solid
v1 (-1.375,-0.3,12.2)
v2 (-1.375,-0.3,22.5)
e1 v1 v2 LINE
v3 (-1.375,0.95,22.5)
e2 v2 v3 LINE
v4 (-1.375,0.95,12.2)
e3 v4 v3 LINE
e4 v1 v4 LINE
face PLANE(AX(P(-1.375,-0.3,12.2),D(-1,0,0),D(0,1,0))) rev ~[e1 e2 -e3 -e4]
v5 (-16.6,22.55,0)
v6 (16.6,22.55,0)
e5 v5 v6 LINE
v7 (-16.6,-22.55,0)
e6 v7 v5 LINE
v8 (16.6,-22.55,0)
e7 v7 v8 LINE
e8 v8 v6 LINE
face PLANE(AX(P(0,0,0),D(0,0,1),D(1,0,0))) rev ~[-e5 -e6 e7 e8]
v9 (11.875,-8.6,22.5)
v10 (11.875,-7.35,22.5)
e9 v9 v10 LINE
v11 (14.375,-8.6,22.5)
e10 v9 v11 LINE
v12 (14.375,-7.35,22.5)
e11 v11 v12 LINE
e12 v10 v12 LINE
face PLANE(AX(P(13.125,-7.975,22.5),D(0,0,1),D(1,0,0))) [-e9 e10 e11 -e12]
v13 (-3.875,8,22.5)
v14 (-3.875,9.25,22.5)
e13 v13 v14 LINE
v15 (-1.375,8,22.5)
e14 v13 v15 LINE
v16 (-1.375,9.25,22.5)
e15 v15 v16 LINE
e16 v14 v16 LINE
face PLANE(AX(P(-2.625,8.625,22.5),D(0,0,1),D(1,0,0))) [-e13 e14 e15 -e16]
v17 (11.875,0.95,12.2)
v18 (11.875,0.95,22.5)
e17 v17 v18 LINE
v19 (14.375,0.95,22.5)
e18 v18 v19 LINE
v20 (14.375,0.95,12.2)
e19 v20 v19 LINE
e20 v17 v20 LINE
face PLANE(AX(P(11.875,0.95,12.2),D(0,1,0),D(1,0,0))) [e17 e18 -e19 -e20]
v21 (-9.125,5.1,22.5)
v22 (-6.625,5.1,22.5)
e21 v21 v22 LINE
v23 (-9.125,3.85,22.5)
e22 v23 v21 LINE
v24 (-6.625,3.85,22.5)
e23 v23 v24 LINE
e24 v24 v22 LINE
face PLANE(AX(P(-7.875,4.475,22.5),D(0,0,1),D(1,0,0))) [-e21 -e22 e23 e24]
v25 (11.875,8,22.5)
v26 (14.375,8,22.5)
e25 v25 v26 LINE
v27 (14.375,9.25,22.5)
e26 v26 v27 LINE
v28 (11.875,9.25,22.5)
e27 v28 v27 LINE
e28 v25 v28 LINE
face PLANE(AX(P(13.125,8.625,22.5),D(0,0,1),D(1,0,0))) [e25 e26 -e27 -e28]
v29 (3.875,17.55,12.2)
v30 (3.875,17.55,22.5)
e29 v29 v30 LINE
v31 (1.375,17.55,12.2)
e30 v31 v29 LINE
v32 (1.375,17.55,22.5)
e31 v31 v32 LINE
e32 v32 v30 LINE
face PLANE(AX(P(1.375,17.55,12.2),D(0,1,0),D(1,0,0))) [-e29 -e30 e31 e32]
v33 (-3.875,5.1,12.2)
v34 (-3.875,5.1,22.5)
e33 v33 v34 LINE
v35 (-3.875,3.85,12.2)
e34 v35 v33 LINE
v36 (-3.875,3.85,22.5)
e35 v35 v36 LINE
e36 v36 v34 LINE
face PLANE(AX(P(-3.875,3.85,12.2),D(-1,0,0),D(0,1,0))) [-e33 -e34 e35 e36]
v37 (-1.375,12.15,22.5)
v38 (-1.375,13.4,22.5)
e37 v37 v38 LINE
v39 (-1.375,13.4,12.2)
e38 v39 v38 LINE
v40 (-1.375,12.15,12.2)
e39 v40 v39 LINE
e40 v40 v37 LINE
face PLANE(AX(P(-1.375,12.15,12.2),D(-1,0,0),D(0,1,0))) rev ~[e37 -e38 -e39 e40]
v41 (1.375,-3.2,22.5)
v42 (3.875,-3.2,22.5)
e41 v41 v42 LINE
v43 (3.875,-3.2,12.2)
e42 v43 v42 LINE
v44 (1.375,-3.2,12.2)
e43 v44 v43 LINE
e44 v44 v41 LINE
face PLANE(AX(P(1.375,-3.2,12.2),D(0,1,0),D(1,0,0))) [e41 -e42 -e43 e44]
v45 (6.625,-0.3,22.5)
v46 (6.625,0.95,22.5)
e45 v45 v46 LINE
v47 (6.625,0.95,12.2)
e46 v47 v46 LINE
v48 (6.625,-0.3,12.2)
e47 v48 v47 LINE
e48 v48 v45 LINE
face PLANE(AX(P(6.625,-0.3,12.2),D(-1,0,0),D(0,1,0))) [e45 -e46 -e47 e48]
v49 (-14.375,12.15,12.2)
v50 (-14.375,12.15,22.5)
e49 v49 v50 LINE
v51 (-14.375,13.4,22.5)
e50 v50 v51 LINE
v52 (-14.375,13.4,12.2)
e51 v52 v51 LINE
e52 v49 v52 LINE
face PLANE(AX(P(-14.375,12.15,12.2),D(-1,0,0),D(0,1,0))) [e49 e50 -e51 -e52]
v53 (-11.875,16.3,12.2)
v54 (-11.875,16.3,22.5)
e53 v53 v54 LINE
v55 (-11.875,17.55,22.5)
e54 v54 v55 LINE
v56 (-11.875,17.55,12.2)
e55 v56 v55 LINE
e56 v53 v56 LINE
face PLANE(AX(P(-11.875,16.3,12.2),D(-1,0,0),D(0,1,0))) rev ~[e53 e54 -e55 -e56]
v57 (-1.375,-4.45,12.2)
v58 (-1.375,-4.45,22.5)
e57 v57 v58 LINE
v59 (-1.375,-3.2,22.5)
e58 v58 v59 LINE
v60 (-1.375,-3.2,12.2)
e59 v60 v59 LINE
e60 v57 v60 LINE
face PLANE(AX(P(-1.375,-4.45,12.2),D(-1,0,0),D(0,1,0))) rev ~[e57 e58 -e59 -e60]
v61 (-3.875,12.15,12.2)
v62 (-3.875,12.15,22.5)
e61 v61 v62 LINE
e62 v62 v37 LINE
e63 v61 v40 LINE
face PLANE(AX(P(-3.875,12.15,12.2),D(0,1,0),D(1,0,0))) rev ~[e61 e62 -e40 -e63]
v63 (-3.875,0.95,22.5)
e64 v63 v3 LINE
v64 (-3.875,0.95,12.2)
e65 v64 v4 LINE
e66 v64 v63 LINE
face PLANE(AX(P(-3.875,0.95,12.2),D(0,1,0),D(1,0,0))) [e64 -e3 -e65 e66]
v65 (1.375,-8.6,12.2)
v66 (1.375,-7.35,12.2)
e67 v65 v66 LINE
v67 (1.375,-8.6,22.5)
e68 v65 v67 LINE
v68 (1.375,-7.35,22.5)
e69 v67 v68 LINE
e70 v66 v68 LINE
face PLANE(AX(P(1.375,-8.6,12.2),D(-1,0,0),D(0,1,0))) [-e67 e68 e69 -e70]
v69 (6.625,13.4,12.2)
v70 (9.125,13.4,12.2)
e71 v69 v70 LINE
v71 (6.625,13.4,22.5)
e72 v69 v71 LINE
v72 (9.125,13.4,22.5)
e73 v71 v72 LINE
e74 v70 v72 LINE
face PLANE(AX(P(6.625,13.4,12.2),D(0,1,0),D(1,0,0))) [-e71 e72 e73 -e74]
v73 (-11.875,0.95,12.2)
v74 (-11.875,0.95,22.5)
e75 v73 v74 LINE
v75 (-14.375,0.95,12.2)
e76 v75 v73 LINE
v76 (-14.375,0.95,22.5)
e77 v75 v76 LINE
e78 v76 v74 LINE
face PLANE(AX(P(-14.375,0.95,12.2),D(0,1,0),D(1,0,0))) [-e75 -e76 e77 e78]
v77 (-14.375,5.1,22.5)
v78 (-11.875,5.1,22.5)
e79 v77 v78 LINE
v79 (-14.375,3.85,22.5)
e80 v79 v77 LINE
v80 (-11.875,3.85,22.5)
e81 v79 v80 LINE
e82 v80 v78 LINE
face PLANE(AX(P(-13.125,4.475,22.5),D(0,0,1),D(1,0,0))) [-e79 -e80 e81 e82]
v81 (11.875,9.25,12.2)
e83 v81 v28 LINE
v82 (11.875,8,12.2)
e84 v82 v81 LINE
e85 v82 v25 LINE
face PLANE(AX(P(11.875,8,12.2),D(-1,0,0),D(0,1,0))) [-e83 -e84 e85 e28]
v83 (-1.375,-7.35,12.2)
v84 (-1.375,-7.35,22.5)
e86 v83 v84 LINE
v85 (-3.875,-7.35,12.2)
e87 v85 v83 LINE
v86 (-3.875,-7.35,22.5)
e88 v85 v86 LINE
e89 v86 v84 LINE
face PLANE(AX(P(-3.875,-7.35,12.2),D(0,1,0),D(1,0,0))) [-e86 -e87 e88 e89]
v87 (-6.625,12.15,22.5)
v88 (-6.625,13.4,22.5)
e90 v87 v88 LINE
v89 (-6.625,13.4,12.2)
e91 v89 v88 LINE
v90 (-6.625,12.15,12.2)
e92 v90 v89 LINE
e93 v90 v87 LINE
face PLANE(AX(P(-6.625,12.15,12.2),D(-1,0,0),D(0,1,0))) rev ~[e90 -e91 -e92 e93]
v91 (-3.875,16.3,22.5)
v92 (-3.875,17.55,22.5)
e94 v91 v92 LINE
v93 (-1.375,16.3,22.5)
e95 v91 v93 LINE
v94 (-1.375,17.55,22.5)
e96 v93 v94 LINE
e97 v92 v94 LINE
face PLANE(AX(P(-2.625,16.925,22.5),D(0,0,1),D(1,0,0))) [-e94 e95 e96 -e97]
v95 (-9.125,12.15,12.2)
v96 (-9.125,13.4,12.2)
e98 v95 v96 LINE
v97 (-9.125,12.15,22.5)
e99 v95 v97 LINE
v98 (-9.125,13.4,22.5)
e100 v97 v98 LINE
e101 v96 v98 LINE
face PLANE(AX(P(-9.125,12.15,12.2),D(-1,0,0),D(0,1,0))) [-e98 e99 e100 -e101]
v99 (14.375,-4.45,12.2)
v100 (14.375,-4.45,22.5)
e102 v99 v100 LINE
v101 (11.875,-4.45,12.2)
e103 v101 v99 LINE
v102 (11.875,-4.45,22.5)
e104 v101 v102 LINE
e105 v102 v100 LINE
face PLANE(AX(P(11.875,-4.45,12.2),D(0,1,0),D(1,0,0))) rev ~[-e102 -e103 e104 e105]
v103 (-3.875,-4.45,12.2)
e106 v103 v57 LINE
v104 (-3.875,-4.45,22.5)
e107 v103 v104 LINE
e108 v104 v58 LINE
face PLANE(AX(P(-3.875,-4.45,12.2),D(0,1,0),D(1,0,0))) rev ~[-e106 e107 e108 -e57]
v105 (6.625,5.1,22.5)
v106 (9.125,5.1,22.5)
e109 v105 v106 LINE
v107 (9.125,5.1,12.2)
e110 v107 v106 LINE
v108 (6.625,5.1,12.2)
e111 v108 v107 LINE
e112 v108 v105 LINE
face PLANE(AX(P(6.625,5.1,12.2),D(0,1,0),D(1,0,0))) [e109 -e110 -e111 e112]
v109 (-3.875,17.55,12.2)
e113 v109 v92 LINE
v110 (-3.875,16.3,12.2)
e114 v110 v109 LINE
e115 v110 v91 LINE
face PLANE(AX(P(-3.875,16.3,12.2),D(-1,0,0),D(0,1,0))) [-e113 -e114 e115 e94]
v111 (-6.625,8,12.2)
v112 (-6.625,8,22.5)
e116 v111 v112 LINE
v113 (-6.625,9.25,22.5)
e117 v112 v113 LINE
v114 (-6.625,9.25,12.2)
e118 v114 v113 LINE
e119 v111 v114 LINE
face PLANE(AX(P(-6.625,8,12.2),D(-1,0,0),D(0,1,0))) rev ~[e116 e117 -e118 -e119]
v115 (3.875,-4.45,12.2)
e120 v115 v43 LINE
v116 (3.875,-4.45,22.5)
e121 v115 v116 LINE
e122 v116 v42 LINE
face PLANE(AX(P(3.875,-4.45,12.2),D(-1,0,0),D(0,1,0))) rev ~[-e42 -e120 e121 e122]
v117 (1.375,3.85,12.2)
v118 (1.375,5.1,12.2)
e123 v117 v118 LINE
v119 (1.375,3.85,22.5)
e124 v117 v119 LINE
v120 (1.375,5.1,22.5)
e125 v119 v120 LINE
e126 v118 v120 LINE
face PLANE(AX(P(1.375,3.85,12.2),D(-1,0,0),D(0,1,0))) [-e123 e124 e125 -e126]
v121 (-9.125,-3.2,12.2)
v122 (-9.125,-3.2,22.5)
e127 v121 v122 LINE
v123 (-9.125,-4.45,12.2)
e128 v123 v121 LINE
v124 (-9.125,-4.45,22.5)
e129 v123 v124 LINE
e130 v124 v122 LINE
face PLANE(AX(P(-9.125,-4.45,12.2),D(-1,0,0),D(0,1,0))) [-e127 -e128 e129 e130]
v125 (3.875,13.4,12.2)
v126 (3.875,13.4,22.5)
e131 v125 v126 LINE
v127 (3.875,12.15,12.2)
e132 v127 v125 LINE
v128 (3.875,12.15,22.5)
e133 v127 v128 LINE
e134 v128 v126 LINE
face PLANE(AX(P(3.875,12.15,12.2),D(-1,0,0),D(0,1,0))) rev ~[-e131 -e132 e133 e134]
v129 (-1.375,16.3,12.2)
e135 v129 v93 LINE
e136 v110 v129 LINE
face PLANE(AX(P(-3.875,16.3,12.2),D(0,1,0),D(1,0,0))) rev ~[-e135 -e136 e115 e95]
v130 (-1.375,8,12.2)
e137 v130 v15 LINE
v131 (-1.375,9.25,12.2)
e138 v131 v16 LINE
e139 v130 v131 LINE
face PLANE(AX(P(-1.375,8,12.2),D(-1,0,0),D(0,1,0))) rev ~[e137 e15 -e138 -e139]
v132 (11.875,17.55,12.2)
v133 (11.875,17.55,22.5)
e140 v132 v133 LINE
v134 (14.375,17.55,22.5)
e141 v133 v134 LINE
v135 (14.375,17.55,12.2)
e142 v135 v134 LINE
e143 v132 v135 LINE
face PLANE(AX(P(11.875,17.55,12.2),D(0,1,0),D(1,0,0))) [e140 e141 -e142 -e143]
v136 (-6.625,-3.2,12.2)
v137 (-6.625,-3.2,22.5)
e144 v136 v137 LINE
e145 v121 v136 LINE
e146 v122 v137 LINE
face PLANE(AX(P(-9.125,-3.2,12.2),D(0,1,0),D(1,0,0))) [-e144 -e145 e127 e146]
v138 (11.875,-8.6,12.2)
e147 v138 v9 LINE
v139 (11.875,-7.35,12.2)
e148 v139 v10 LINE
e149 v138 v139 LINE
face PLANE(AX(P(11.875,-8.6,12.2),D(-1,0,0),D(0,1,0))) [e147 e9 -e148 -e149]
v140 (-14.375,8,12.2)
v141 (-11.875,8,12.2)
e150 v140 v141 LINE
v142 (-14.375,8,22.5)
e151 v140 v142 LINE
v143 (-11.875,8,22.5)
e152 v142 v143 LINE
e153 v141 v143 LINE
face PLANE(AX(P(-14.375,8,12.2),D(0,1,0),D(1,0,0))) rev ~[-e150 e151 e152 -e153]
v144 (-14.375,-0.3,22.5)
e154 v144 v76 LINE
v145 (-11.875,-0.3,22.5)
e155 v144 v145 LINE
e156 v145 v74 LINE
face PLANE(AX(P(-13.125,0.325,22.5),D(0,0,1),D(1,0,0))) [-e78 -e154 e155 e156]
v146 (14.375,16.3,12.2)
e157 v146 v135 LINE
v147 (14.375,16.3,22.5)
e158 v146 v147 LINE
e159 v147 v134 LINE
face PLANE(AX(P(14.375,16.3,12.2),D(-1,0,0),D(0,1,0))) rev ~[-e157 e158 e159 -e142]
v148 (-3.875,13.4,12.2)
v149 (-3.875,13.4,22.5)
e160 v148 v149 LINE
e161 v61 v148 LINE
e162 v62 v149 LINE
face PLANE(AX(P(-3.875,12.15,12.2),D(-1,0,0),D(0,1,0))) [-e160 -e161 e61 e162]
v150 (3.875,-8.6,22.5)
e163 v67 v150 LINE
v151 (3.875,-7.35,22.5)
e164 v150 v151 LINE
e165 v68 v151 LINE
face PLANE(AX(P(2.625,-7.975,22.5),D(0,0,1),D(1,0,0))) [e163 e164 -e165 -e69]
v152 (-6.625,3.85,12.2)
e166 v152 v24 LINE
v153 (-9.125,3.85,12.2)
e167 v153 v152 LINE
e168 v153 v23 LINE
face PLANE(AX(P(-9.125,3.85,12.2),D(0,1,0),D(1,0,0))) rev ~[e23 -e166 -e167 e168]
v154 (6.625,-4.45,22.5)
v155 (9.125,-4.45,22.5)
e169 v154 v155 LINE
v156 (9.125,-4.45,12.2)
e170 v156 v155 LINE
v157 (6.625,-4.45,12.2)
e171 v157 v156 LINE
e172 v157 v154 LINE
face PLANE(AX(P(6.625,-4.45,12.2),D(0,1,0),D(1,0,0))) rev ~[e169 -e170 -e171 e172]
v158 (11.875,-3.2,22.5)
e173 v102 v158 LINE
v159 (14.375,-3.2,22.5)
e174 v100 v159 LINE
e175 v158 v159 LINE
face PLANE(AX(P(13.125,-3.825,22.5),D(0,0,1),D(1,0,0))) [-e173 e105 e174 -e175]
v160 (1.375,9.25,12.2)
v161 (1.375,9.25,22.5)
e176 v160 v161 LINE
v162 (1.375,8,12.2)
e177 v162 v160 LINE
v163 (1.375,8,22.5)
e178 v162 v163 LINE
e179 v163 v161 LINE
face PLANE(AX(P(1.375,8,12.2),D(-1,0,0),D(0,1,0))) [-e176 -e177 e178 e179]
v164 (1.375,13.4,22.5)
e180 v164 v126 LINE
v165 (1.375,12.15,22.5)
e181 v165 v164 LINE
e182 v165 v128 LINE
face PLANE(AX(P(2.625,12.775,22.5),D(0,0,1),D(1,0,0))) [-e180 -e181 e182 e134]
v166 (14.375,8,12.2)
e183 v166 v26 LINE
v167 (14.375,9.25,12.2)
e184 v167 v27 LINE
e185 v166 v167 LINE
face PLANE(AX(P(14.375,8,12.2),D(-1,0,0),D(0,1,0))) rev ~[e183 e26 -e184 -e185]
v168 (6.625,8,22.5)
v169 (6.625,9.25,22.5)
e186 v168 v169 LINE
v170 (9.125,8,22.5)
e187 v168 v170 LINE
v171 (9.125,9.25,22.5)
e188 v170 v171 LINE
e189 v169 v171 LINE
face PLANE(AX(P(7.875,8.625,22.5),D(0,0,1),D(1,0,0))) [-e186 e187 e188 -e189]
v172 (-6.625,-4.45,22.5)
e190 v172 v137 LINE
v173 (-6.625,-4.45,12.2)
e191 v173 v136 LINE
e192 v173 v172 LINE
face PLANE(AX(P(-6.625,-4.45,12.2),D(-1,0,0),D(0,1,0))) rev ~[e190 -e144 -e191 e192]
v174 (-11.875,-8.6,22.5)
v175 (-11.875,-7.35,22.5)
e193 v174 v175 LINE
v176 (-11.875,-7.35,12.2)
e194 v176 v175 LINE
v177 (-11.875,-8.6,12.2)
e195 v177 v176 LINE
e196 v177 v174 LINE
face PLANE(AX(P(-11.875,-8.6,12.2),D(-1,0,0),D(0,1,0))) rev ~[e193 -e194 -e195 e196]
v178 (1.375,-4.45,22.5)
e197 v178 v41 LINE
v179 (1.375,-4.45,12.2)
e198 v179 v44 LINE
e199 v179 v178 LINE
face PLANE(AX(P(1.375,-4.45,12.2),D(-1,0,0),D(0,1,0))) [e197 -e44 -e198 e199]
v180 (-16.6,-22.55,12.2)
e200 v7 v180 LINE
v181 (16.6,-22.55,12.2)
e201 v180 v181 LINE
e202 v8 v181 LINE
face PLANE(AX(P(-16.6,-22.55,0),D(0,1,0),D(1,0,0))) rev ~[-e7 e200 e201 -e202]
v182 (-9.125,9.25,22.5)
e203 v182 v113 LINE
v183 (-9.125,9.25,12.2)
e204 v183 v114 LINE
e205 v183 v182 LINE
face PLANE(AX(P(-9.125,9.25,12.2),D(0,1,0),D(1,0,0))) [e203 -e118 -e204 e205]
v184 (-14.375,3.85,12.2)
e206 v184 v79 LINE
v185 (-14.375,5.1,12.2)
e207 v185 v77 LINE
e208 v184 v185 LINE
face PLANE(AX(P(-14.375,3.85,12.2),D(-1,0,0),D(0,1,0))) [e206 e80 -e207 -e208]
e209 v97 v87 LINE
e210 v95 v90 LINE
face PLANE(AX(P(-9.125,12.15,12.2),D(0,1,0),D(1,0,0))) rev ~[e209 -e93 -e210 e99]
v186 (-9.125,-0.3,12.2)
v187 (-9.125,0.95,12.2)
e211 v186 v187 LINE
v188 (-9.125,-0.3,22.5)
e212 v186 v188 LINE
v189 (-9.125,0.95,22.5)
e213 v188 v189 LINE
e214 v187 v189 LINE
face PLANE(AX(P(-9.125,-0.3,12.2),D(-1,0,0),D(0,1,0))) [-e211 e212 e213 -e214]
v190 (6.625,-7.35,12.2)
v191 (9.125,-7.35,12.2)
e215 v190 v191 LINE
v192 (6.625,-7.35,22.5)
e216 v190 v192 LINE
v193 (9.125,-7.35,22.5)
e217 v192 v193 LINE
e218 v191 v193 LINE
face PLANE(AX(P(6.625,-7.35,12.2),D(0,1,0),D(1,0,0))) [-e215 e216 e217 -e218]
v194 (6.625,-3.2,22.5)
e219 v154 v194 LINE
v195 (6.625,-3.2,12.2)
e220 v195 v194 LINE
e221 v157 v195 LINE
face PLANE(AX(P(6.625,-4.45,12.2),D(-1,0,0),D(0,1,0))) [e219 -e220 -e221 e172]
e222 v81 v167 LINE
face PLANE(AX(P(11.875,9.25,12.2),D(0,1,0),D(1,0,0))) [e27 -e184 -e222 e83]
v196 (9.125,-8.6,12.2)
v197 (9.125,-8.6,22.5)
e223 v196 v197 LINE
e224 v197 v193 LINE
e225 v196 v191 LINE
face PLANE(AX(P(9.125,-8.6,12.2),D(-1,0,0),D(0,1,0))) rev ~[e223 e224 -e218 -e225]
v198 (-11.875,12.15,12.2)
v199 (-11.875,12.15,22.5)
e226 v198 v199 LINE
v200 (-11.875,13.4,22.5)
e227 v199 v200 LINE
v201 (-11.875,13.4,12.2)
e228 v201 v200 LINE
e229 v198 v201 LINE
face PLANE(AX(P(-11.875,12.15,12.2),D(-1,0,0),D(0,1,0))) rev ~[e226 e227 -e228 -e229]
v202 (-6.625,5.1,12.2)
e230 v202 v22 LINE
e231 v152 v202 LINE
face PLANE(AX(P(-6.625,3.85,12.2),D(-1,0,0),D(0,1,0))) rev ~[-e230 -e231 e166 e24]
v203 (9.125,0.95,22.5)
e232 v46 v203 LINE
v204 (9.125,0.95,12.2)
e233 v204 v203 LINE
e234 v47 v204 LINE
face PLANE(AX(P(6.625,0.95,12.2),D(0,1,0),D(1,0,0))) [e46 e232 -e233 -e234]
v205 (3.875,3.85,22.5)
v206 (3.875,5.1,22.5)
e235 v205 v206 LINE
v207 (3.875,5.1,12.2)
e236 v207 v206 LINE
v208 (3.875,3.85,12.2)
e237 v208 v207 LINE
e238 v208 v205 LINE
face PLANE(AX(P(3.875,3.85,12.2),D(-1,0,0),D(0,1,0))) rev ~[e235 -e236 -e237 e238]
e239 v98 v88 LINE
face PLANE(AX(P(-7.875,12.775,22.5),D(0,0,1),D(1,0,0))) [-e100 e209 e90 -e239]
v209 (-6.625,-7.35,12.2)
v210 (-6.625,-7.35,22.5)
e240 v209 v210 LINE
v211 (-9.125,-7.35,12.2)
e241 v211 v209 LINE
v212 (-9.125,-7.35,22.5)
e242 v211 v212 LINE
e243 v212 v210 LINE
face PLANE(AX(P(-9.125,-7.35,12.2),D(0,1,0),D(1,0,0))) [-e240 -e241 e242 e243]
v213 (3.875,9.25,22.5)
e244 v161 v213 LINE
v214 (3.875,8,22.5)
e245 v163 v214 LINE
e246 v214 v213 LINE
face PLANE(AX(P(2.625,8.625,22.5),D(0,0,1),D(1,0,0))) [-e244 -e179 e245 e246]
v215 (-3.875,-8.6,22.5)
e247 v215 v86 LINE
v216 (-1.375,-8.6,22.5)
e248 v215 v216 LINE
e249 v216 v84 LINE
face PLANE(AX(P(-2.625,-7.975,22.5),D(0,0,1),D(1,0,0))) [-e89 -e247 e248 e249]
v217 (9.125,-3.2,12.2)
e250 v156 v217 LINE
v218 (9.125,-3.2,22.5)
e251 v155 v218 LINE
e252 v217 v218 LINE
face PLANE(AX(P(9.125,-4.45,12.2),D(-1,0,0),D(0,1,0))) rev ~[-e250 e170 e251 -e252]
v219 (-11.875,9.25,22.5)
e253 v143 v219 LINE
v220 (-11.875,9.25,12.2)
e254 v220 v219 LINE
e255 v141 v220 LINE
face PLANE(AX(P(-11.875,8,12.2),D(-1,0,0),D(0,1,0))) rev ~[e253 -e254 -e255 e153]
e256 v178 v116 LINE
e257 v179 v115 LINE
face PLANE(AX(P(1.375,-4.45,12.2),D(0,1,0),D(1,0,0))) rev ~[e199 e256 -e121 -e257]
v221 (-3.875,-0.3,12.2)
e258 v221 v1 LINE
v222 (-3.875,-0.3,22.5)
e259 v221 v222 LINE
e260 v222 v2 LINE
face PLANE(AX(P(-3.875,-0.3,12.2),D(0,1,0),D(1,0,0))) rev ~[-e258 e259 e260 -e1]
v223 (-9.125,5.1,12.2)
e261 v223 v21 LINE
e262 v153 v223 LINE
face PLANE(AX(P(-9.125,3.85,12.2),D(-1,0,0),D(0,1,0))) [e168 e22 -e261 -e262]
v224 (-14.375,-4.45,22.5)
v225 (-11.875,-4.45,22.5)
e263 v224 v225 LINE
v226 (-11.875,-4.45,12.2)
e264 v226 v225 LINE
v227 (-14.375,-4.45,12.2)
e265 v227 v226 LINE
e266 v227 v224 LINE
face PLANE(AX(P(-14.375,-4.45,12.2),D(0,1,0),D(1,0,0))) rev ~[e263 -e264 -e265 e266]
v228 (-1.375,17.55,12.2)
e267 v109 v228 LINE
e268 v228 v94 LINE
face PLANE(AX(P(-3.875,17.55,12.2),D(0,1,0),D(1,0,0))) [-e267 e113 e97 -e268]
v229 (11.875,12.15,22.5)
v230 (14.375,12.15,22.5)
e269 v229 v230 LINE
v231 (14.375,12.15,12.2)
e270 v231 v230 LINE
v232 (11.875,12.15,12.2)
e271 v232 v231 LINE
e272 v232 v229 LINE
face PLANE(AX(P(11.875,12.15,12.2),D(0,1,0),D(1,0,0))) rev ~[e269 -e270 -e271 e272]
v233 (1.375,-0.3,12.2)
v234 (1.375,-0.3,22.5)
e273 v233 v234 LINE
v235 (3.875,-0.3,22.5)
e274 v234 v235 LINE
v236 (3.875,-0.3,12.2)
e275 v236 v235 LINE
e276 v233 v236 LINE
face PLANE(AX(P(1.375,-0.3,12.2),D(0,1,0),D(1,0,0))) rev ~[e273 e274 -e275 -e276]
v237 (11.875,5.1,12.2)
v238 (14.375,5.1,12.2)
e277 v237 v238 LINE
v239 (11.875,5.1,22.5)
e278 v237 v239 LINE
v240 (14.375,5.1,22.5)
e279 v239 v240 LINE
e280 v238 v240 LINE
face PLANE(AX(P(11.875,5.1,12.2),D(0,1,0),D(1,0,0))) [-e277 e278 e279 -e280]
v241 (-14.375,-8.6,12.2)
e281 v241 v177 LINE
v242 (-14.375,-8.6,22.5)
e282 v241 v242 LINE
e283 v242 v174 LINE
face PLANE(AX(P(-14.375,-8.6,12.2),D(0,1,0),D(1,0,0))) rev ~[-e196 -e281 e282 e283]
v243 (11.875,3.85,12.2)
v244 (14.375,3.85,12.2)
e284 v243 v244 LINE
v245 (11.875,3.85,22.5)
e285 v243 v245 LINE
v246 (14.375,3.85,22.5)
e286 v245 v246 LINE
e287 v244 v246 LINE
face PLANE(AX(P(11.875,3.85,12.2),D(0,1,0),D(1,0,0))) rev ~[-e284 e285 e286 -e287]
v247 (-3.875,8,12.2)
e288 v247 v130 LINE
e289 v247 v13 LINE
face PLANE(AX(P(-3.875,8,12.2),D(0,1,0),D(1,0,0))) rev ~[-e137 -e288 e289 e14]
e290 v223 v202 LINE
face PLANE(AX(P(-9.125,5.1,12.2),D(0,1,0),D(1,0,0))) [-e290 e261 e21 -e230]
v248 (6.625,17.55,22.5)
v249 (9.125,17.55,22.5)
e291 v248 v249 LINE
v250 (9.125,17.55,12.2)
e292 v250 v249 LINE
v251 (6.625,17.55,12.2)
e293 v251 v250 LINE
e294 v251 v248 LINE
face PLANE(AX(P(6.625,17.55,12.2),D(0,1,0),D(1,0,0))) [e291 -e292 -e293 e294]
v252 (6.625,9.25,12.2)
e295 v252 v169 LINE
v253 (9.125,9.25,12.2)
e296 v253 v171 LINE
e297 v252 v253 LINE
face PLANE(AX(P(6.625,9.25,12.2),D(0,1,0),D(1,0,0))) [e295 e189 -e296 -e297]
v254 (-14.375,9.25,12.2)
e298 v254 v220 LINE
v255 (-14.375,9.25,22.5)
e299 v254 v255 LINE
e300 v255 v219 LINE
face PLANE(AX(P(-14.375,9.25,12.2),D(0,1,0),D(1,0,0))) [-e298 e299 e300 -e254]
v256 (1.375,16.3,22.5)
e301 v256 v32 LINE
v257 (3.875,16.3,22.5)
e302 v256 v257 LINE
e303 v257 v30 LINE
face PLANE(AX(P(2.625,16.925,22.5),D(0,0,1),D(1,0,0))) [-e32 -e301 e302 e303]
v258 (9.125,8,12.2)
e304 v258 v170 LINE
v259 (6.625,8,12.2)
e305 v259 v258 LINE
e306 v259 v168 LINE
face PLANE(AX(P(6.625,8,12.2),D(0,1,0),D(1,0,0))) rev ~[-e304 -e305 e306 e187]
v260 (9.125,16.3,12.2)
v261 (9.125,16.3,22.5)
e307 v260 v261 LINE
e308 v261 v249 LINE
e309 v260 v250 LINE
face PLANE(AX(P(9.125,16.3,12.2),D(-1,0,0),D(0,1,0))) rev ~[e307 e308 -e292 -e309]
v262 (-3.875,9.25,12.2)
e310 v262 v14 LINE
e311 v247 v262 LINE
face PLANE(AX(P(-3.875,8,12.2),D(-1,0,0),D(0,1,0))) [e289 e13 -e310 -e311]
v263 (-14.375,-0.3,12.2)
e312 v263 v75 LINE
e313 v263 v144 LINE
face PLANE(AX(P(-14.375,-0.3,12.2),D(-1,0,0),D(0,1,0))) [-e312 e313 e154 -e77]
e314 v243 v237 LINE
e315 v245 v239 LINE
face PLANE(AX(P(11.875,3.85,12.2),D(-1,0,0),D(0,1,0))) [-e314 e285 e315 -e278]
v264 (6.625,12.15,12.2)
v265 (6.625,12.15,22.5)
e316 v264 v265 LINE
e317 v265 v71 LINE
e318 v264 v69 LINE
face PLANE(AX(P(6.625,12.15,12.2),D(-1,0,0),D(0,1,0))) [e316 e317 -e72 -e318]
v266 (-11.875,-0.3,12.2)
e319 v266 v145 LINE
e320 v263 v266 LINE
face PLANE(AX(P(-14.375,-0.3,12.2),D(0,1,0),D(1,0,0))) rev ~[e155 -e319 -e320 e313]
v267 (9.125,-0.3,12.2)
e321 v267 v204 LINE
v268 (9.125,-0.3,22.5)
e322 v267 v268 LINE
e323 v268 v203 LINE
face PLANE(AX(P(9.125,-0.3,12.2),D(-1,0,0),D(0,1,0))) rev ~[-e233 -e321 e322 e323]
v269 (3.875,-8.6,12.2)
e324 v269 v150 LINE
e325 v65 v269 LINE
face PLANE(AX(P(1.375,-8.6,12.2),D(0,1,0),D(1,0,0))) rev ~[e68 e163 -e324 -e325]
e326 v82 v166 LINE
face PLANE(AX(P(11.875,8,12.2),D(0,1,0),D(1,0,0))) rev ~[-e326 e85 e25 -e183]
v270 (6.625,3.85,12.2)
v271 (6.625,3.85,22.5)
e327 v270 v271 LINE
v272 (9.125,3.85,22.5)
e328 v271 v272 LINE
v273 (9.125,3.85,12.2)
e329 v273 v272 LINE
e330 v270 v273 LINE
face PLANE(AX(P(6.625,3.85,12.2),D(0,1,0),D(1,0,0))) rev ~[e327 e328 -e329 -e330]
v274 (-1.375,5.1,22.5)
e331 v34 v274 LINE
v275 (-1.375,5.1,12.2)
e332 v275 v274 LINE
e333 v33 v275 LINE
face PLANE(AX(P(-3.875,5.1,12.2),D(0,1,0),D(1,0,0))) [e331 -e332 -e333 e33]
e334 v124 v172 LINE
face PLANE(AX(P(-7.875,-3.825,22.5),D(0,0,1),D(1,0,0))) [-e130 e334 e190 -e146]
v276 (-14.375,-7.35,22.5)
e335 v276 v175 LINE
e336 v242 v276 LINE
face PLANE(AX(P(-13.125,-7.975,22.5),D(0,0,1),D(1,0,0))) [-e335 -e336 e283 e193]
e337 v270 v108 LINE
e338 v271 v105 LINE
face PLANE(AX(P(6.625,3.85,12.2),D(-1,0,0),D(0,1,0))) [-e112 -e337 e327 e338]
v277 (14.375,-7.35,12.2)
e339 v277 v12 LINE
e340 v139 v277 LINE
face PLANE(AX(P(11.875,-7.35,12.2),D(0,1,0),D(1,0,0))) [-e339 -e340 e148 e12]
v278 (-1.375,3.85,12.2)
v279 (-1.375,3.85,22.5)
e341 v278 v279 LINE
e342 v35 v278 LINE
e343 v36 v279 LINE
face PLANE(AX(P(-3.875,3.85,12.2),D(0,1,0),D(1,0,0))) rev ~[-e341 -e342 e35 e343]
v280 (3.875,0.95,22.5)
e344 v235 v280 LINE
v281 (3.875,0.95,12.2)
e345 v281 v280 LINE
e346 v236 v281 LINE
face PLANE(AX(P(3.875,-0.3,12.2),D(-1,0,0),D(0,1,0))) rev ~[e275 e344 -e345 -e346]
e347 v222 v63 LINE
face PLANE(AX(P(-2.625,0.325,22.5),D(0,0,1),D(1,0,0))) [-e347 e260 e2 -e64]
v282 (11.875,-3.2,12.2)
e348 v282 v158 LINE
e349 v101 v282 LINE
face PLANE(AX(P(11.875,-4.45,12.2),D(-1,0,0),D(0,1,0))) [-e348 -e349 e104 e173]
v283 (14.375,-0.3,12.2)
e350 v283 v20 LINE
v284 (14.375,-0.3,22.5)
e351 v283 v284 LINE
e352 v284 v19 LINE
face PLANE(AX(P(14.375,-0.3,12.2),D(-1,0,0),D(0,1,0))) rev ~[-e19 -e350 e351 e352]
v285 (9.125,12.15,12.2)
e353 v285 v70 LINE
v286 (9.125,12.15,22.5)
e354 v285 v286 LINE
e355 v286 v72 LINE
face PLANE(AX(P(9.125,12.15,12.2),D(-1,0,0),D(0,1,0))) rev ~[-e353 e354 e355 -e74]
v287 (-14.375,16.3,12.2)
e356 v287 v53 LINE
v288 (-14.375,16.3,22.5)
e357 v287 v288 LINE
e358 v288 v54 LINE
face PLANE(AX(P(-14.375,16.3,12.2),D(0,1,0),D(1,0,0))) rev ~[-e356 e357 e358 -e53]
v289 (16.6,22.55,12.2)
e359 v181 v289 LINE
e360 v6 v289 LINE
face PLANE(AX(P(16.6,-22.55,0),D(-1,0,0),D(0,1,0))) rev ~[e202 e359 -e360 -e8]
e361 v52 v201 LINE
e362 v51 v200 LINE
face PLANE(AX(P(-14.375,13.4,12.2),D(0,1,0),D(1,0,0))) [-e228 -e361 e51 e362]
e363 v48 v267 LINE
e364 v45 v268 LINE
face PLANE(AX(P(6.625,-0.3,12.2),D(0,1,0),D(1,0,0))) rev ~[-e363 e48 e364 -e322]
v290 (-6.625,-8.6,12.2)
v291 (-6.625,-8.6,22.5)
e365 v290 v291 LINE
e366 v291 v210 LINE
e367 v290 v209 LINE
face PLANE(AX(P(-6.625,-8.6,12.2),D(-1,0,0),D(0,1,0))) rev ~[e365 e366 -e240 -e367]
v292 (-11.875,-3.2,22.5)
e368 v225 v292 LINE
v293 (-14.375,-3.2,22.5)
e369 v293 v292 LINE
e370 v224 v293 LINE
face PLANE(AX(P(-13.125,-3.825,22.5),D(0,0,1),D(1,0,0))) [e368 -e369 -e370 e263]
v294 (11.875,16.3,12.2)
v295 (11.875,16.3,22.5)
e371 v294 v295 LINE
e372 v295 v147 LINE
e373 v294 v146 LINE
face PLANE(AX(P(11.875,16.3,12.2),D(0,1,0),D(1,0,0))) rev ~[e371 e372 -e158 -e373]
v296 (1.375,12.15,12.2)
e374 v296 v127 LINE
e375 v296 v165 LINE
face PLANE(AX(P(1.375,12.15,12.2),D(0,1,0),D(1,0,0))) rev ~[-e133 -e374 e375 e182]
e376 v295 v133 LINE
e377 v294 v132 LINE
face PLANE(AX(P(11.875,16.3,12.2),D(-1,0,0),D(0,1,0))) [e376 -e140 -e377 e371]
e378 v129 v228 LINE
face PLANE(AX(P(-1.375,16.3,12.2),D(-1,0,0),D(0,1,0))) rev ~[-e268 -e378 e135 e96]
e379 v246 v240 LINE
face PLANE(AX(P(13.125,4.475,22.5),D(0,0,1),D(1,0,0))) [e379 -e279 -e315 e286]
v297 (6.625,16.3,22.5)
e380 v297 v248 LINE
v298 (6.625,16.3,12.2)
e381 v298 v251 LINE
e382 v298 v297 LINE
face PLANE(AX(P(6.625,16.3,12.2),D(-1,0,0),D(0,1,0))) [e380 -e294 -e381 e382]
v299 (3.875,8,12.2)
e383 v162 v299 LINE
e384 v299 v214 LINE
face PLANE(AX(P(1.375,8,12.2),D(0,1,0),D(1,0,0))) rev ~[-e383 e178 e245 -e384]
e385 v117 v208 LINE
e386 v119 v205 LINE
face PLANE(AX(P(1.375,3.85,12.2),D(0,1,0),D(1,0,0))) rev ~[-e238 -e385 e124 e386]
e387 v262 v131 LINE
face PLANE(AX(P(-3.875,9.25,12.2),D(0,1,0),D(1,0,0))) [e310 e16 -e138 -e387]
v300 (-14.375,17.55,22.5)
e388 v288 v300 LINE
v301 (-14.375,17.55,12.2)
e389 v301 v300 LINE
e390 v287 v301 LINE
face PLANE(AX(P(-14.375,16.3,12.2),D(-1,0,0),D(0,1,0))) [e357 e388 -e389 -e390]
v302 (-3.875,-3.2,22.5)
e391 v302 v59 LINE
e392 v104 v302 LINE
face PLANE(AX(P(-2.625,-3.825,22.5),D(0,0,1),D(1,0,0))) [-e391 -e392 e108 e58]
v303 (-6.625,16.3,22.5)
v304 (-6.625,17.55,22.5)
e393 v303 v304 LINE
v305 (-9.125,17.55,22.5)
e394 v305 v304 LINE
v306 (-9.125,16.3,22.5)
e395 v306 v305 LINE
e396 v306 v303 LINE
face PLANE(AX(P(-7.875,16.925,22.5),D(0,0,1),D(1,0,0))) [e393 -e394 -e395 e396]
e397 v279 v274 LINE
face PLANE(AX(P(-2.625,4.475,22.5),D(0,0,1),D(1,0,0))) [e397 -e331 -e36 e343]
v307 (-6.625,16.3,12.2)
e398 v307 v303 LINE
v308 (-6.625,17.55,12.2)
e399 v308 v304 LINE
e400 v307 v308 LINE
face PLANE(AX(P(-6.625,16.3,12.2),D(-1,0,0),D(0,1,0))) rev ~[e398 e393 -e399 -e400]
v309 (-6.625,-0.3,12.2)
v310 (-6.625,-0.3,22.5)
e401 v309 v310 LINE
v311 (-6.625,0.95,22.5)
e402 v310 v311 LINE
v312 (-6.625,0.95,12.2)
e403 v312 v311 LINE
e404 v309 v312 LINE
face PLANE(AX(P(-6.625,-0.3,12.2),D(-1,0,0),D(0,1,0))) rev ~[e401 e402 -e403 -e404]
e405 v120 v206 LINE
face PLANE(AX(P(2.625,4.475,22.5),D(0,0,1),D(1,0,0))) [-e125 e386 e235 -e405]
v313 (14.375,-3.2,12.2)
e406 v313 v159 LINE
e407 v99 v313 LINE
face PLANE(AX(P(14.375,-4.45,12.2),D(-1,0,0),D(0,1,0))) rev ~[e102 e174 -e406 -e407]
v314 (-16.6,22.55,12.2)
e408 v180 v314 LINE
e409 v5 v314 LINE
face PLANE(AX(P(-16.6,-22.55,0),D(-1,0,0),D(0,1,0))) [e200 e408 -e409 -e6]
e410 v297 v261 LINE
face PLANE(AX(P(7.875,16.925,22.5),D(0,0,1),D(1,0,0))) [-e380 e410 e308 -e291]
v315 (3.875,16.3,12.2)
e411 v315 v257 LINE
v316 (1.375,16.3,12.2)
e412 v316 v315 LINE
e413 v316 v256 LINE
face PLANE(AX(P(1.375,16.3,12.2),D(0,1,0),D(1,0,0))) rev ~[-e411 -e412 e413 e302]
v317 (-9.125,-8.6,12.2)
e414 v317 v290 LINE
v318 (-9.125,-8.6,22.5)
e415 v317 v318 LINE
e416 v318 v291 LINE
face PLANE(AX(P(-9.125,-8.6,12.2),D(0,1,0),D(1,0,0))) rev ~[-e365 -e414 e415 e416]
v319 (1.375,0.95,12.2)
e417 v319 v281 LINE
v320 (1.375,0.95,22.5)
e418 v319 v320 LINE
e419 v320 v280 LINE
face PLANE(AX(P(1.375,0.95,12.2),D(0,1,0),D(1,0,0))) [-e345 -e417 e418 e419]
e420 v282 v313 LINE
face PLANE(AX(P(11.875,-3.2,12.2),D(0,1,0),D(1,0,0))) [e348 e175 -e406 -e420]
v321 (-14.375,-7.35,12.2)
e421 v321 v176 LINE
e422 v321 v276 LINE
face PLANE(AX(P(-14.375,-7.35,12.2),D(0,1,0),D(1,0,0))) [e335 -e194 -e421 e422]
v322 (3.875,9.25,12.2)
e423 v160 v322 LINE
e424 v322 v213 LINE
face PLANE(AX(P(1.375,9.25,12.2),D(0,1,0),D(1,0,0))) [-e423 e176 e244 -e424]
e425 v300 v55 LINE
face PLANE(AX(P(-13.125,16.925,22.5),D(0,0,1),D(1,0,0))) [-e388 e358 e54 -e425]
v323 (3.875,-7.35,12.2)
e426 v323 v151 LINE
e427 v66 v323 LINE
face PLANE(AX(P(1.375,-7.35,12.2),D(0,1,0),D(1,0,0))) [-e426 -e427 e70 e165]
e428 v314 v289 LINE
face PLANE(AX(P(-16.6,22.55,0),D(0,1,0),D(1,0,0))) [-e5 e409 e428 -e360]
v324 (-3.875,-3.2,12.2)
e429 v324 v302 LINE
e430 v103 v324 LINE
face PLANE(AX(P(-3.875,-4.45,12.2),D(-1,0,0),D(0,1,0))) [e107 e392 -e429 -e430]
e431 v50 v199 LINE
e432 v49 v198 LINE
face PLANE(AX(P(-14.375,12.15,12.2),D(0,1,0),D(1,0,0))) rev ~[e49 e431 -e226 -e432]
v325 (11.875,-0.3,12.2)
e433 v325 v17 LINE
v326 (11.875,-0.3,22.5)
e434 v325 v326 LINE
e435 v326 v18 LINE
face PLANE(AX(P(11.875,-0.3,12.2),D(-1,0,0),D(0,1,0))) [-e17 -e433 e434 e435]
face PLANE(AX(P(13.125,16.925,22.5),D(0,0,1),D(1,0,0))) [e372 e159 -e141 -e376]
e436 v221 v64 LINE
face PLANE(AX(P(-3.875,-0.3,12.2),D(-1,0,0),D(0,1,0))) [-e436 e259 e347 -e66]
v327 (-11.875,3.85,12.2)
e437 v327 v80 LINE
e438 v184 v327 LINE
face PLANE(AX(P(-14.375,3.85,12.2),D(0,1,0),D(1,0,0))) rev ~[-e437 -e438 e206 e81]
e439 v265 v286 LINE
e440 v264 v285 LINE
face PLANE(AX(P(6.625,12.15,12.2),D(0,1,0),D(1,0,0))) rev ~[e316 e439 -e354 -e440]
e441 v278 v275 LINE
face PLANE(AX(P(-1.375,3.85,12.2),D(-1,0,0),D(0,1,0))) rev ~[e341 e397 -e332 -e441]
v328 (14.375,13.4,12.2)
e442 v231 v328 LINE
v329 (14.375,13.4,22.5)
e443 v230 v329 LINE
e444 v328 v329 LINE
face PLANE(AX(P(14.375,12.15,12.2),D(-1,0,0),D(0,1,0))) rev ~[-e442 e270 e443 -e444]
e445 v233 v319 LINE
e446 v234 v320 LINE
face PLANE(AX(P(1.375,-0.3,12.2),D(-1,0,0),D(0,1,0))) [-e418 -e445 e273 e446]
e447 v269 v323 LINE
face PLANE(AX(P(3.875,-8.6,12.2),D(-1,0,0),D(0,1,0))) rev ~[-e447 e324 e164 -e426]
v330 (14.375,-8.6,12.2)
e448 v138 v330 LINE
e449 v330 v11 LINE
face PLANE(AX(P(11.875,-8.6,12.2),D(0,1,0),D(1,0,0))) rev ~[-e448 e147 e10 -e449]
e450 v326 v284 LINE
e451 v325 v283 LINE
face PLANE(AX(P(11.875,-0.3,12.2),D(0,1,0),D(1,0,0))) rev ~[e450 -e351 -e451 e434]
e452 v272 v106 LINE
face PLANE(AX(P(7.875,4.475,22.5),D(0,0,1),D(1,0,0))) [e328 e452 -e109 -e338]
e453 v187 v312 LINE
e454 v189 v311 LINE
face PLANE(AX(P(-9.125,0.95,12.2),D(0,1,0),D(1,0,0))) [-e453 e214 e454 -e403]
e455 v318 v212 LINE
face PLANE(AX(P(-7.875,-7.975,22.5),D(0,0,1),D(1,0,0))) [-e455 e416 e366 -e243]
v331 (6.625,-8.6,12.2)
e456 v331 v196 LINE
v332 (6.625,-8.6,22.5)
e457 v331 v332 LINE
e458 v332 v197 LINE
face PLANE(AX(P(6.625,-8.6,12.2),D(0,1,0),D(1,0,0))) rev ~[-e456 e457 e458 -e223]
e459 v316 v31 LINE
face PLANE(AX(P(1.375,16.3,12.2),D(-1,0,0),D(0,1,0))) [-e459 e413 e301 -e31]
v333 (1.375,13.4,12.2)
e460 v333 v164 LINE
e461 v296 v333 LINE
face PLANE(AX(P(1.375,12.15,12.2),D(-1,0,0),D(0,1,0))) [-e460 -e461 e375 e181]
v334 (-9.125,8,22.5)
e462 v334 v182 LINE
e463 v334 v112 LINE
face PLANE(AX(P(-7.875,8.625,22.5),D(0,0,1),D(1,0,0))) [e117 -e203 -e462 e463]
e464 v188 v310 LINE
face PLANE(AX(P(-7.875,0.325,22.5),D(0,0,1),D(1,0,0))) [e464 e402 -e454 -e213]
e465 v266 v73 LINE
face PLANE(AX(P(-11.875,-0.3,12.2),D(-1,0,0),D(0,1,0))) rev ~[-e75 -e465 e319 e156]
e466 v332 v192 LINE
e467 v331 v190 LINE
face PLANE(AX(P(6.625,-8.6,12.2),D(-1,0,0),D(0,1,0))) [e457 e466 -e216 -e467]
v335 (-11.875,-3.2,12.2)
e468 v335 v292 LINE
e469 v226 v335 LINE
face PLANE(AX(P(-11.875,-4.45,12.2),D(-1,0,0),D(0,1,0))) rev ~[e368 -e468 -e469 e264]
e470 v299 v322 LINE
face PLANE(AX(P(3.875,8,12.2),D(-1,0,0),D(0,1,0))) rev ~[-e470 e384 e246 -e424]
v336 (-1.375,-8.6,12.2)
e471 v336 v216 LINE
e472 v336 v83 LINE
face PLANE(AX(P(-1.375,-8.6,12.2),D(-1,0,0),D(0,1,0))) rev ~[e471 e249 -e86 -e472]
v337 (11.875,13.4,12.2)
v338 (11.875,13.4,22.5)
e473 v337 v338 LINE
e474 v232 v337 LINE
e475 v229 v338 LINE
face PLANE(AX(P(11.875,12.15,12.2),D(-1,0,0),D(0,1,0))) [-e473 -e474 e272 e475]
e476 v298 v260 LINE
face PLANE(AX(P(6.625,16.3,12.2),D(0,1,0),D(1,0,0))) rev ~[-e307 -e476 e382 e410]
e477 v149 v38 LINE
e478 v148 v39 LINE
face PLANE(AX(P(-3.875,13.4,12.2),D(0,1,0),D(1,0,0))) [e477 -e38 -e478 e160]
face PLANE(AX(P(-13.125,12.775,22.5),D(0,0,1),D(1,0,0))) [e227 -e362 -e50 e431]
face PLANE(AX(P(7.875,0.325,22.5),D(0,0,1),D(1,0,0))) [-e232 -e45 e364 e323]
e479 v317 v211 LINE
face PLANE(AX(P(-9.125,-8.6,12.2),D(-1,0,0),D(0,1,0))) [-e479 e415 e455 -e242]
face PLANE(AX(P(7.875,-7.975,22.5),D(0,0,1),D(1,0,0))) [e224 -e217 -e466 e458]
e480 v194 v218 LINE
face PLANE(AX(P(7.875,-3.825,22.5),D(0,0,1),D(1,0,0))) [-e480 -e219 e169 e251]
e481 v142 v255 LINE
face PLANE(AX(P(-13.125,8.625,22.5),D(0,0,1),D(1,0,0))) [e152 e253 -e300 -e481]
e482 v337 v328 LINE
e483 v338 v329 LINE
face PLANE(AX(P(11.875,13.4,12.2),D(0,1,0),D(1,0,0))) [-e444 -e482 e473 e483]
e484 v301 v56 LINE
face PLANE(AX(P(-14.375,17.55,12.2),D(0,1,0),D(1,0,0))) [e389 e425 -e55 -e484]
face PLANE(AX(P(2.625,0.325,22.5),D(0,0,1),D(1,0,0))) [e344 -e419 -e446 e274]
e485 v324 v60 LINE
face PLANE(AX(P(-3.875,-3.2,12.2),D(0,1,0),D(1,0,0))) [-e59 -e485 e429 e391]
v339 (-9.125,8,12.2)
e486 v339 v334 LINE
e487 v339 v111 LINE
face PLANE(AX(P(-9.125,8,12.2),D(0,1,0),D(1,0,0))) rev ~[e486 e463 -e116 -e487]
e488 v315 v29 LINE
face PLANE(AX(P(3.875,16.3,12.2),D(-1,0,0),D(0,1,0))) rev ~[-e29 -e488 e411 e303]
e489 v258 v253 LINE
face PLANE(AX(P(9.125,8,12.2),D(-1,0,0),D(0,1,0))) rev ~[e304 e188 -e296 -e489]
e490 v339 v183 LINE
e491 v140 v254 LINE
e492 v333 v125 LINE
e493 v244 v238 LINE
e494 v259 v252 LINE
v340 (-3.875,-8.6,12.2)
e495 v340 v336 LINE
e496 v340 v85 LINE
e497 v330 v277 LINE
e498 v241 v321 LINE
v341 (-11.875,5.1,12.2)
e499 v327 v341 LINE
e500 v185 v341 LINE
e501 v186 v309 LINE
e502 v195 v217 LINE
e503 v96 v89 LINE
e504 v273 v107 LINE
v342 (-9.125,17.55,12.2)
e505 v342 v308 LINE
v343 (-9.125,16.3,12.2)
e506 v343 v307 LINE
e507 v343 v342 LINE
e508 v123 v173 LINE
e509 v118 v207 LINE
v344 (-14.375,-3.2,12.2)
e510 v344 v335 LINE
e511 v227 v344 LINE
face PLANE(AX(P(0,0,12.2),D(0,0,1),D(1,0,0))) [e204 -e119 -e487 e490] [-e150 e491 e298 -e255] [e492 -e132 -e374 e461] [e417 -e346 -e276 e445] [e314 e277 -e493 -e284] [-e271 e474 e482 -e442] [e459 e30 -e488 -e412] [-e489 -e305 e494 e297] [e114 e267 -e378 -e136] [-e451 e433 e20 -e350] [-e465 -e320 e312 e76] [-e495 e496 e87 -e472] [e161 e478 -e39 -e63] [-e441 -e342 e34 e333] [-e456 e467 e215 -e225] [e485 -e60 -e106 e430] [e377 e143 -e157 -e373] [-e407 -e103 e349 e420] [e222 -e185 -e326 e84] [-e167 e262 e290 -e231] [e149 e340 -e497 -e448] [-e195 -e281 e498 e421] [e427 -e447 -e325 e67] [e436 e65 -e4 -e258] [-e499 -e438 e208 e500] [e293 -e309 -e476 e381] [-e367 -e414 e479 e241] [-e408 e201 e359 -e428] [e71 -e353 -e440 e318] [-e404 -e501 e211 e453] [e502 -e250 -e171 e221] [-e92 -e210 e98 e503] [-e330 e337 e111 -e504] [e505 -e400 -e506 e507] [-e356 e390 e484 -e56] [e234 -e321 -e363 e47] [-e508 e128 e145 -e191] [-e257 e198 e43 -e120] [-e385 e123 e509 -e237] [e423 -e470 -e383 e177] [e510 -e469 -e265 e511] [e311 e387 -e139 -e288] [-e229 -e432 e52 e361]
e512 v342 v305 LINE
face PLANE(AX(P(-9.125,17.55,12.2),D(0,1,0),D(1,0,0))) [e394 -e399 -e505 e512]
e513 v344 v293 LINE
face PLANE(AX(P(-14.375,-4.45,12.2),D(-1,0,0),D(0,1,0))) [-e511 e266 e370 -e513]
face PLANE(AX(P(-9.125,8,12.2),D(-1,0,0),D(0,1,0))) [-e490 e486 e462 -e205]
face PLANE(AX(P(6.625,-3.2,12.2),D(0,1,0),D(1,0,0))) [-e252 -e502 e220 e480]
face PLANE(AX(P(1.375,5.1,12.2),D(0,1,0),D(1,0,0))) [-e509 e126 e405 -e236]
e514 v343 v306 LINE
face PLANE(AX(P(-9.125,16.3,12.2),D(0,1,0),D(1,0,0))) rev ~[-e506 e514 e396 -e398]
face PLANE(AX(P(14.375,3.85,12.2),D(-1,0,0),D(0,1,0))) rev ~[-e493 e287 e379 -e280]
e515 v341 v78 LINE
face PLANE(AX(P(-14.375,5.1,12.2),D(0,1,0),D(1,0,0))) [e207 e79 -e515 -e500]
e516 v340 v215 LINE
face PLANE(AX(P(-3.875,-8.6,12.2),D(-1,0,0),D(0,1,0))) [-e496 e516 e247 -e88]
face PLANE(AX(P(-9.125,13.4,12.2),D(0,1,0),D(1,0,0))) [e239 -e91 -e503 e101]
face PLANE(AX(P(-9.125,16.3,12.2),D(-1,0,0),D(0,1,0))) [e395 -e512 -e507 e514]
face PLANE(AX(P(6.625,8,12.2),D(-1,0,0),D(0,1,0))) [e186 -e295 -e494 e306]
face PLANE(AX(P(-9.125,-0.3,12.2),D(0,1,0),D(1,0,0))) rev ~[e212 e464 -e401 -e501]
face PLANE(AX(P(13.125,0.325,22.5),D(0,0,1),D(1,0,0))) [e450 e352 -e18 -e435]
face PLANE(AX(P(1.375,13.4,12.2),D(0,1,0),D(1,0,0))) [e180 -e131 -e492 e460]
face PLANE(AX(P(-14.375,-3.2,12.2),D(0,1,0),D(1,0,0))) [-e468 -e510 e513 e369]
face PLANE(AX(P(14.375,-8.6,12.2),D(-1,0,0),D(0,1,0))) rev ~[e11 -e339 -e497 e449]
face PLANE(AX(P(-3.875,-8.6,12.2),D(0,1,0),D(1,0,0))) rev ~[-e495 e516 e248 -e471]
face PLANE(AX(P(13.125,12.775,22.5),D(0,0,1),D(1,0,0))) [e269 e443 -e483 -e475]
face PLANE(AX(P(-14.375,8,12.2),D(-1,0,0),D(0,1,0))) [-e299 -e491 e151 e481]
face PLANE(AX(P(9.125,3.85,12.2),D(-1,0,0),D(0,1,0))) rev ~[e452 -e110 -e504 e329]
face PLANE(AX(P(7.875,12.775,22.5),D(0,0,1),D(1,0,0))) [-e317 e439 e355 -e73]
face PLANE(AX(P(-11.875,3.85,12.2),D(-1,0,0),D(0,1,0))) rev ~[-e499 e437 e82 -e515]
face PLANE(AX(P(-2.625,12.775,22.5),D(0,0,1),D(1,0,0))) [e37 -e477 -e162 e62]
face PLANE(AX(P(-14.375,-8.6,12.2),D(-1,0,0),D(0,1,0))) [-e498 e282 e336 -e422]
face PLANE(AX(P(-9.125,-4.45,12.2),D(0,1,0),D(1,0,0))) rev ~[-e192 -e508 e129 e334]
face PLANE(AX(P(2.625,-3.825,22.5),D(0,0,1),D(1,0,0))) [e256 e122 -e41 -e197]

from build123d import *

# Parameters (mm, degrees)
F0_W     = 33.2
F0_H     = 45.1
F1_DEPTH = 12.2
F2_W     = 2.5
F2_H     = 1.25
F3_DEPTH = 10.3


with BuildPart() as f1:
    # F0 (on Top) → F1 (new body)
    with BuildSketch(Plane.XY):
        Rectangle(F0_W, F0_H)
    extrude(amount=F1_DEPTH)

    # F2 (on face) → F3 (join)
    with BuildSketch(Plane.XY.offset(12.2)):
        with Locations((-13.125, 16.925)):
            Rectangle(F2_W, F2_H)
        with Locations((-13.125, 12.775)):
            Rectangle(F2_W, F2_H)
        with Locations((-13.125, 8.625)):
            Rectangle(F2_W, F2_H)
        with Locations((-13.125, 4.475)):
            Rectangle(F2_W, F2_H)
        with Locations((-13.125, 0.325)):
            Rectangle(F2_W, F2_H)
        with Locations((-13.125, -3.825)):
            Rectangle(F2_W, F2_H)
        with Locations((-13.125, -7.975)):
            Rectangle(F2_W, F2_H)
        with Locations((-7.875, 16.925)):
            Rectangle(F2_W, F2_H)
        with Locations((-7.875, 12.775)):
            Rectangle(F2_W, F2_H)
        with Locations((-7.875, 8.625)):
            Rectangle(F2_W, F2_H)
        with Locations((-7.875, 4.475)):
            Rectangle(F2_W, F2_H)
        with Locations((-7.875, 0.325)):
            Rectangle(F2_W, F2_H)
        with Locations((-7.875, -3.825)):
            Rectangle(F2_W, F2_H)
        with Locations((-7.875, -7.975)):
            Rectangle(F2_W, F2_H)
        with Locations((-2.625, 16.925)):
            Rectangle(F2_W, F2_H)
        with Locations((-2.625, 12.775)):
            Rectangle(F2_W, F2_H)
        with Locations((-2.625, 8.625)):
            Rectangle(F2_W, F2_H)
        with Locations((-2.625, 4.475)):
            Rectangle(F2_W, F2_H)
        with Locations((-2.625, 0.325)):
            Rectangle(F2_W, F2_H)
        with Locations((-2.625, -3.825)):
            Rectangle(F2_W, F2_H)
        with Locations((-2.625, -7.975)):
            Rectangle(F2_W, F2_H)
        with Locations((2.625, 16.925)):
            Rectangle(F2_W, F2_H)
        with Locations((2.625, 12.775)):
            Rectangle(F2_W, F2_H)
        with Locations((2.625, 8.625)):
            Rectangle(F2_W, F2_H)
        with Locations((2.625, 4.475)):
            Rectangle(F2_W, F2_H)
        with Locations((2.625, 0.325)):
            Rectangle(F2_W, F2_H)
        with Locations((2.625, -3.825)):
            Rectangle(F2_W, F2_H)
        with Locations((2.625, -7.975)):
            Rectangle(F2_W, F2_H)
        with Locations((7.875, 16.925)):
            Rectangle(F2_W, F2_H)
        with Locations((7.875, 12.775)):
            Rectangle(F2_W, F2_H)
        with Locations((7.875, 8.625)):
            Rectangle(F2_W, F2_H)
        with Locations((7.875, 4.475)):
            Rectangle(F2_W, F2_H)
        with Locations((7.875, 0.325)):
            Rectangle(F2_W, F2_H)
        with Locations((7.875, -3.825)):
            Rectangle(F2_W, F2_H)
        with Locations((7.875, -7.975)):
            Rectangle(F2_W, F2_H)
        with Locations((13.125, 16.925)):
            Rectangle(F2_W, F2_H)
        with Locations((13.125, 12.775)):
            Rectangle(F2_W, F2_H)
        with Locations((13.125, 8.625)):
            Rectangle(F2_W, F2_H)
        with Locations((13.125, 4.475)):
            Rectangle(F2_W, F2_H)
        with Locations((13.125, 0.325)):
            Rectangle(F2_W, F2_H)
        with Locations((13.125, -3.825)):
            Rectangle(F2_W, F2_H)
        with Locations((13.125, -7.975)):
            Rectangle(F2_W, F2_H)
    extrude(amount=F3_DEPTH)


solid = f1.part
